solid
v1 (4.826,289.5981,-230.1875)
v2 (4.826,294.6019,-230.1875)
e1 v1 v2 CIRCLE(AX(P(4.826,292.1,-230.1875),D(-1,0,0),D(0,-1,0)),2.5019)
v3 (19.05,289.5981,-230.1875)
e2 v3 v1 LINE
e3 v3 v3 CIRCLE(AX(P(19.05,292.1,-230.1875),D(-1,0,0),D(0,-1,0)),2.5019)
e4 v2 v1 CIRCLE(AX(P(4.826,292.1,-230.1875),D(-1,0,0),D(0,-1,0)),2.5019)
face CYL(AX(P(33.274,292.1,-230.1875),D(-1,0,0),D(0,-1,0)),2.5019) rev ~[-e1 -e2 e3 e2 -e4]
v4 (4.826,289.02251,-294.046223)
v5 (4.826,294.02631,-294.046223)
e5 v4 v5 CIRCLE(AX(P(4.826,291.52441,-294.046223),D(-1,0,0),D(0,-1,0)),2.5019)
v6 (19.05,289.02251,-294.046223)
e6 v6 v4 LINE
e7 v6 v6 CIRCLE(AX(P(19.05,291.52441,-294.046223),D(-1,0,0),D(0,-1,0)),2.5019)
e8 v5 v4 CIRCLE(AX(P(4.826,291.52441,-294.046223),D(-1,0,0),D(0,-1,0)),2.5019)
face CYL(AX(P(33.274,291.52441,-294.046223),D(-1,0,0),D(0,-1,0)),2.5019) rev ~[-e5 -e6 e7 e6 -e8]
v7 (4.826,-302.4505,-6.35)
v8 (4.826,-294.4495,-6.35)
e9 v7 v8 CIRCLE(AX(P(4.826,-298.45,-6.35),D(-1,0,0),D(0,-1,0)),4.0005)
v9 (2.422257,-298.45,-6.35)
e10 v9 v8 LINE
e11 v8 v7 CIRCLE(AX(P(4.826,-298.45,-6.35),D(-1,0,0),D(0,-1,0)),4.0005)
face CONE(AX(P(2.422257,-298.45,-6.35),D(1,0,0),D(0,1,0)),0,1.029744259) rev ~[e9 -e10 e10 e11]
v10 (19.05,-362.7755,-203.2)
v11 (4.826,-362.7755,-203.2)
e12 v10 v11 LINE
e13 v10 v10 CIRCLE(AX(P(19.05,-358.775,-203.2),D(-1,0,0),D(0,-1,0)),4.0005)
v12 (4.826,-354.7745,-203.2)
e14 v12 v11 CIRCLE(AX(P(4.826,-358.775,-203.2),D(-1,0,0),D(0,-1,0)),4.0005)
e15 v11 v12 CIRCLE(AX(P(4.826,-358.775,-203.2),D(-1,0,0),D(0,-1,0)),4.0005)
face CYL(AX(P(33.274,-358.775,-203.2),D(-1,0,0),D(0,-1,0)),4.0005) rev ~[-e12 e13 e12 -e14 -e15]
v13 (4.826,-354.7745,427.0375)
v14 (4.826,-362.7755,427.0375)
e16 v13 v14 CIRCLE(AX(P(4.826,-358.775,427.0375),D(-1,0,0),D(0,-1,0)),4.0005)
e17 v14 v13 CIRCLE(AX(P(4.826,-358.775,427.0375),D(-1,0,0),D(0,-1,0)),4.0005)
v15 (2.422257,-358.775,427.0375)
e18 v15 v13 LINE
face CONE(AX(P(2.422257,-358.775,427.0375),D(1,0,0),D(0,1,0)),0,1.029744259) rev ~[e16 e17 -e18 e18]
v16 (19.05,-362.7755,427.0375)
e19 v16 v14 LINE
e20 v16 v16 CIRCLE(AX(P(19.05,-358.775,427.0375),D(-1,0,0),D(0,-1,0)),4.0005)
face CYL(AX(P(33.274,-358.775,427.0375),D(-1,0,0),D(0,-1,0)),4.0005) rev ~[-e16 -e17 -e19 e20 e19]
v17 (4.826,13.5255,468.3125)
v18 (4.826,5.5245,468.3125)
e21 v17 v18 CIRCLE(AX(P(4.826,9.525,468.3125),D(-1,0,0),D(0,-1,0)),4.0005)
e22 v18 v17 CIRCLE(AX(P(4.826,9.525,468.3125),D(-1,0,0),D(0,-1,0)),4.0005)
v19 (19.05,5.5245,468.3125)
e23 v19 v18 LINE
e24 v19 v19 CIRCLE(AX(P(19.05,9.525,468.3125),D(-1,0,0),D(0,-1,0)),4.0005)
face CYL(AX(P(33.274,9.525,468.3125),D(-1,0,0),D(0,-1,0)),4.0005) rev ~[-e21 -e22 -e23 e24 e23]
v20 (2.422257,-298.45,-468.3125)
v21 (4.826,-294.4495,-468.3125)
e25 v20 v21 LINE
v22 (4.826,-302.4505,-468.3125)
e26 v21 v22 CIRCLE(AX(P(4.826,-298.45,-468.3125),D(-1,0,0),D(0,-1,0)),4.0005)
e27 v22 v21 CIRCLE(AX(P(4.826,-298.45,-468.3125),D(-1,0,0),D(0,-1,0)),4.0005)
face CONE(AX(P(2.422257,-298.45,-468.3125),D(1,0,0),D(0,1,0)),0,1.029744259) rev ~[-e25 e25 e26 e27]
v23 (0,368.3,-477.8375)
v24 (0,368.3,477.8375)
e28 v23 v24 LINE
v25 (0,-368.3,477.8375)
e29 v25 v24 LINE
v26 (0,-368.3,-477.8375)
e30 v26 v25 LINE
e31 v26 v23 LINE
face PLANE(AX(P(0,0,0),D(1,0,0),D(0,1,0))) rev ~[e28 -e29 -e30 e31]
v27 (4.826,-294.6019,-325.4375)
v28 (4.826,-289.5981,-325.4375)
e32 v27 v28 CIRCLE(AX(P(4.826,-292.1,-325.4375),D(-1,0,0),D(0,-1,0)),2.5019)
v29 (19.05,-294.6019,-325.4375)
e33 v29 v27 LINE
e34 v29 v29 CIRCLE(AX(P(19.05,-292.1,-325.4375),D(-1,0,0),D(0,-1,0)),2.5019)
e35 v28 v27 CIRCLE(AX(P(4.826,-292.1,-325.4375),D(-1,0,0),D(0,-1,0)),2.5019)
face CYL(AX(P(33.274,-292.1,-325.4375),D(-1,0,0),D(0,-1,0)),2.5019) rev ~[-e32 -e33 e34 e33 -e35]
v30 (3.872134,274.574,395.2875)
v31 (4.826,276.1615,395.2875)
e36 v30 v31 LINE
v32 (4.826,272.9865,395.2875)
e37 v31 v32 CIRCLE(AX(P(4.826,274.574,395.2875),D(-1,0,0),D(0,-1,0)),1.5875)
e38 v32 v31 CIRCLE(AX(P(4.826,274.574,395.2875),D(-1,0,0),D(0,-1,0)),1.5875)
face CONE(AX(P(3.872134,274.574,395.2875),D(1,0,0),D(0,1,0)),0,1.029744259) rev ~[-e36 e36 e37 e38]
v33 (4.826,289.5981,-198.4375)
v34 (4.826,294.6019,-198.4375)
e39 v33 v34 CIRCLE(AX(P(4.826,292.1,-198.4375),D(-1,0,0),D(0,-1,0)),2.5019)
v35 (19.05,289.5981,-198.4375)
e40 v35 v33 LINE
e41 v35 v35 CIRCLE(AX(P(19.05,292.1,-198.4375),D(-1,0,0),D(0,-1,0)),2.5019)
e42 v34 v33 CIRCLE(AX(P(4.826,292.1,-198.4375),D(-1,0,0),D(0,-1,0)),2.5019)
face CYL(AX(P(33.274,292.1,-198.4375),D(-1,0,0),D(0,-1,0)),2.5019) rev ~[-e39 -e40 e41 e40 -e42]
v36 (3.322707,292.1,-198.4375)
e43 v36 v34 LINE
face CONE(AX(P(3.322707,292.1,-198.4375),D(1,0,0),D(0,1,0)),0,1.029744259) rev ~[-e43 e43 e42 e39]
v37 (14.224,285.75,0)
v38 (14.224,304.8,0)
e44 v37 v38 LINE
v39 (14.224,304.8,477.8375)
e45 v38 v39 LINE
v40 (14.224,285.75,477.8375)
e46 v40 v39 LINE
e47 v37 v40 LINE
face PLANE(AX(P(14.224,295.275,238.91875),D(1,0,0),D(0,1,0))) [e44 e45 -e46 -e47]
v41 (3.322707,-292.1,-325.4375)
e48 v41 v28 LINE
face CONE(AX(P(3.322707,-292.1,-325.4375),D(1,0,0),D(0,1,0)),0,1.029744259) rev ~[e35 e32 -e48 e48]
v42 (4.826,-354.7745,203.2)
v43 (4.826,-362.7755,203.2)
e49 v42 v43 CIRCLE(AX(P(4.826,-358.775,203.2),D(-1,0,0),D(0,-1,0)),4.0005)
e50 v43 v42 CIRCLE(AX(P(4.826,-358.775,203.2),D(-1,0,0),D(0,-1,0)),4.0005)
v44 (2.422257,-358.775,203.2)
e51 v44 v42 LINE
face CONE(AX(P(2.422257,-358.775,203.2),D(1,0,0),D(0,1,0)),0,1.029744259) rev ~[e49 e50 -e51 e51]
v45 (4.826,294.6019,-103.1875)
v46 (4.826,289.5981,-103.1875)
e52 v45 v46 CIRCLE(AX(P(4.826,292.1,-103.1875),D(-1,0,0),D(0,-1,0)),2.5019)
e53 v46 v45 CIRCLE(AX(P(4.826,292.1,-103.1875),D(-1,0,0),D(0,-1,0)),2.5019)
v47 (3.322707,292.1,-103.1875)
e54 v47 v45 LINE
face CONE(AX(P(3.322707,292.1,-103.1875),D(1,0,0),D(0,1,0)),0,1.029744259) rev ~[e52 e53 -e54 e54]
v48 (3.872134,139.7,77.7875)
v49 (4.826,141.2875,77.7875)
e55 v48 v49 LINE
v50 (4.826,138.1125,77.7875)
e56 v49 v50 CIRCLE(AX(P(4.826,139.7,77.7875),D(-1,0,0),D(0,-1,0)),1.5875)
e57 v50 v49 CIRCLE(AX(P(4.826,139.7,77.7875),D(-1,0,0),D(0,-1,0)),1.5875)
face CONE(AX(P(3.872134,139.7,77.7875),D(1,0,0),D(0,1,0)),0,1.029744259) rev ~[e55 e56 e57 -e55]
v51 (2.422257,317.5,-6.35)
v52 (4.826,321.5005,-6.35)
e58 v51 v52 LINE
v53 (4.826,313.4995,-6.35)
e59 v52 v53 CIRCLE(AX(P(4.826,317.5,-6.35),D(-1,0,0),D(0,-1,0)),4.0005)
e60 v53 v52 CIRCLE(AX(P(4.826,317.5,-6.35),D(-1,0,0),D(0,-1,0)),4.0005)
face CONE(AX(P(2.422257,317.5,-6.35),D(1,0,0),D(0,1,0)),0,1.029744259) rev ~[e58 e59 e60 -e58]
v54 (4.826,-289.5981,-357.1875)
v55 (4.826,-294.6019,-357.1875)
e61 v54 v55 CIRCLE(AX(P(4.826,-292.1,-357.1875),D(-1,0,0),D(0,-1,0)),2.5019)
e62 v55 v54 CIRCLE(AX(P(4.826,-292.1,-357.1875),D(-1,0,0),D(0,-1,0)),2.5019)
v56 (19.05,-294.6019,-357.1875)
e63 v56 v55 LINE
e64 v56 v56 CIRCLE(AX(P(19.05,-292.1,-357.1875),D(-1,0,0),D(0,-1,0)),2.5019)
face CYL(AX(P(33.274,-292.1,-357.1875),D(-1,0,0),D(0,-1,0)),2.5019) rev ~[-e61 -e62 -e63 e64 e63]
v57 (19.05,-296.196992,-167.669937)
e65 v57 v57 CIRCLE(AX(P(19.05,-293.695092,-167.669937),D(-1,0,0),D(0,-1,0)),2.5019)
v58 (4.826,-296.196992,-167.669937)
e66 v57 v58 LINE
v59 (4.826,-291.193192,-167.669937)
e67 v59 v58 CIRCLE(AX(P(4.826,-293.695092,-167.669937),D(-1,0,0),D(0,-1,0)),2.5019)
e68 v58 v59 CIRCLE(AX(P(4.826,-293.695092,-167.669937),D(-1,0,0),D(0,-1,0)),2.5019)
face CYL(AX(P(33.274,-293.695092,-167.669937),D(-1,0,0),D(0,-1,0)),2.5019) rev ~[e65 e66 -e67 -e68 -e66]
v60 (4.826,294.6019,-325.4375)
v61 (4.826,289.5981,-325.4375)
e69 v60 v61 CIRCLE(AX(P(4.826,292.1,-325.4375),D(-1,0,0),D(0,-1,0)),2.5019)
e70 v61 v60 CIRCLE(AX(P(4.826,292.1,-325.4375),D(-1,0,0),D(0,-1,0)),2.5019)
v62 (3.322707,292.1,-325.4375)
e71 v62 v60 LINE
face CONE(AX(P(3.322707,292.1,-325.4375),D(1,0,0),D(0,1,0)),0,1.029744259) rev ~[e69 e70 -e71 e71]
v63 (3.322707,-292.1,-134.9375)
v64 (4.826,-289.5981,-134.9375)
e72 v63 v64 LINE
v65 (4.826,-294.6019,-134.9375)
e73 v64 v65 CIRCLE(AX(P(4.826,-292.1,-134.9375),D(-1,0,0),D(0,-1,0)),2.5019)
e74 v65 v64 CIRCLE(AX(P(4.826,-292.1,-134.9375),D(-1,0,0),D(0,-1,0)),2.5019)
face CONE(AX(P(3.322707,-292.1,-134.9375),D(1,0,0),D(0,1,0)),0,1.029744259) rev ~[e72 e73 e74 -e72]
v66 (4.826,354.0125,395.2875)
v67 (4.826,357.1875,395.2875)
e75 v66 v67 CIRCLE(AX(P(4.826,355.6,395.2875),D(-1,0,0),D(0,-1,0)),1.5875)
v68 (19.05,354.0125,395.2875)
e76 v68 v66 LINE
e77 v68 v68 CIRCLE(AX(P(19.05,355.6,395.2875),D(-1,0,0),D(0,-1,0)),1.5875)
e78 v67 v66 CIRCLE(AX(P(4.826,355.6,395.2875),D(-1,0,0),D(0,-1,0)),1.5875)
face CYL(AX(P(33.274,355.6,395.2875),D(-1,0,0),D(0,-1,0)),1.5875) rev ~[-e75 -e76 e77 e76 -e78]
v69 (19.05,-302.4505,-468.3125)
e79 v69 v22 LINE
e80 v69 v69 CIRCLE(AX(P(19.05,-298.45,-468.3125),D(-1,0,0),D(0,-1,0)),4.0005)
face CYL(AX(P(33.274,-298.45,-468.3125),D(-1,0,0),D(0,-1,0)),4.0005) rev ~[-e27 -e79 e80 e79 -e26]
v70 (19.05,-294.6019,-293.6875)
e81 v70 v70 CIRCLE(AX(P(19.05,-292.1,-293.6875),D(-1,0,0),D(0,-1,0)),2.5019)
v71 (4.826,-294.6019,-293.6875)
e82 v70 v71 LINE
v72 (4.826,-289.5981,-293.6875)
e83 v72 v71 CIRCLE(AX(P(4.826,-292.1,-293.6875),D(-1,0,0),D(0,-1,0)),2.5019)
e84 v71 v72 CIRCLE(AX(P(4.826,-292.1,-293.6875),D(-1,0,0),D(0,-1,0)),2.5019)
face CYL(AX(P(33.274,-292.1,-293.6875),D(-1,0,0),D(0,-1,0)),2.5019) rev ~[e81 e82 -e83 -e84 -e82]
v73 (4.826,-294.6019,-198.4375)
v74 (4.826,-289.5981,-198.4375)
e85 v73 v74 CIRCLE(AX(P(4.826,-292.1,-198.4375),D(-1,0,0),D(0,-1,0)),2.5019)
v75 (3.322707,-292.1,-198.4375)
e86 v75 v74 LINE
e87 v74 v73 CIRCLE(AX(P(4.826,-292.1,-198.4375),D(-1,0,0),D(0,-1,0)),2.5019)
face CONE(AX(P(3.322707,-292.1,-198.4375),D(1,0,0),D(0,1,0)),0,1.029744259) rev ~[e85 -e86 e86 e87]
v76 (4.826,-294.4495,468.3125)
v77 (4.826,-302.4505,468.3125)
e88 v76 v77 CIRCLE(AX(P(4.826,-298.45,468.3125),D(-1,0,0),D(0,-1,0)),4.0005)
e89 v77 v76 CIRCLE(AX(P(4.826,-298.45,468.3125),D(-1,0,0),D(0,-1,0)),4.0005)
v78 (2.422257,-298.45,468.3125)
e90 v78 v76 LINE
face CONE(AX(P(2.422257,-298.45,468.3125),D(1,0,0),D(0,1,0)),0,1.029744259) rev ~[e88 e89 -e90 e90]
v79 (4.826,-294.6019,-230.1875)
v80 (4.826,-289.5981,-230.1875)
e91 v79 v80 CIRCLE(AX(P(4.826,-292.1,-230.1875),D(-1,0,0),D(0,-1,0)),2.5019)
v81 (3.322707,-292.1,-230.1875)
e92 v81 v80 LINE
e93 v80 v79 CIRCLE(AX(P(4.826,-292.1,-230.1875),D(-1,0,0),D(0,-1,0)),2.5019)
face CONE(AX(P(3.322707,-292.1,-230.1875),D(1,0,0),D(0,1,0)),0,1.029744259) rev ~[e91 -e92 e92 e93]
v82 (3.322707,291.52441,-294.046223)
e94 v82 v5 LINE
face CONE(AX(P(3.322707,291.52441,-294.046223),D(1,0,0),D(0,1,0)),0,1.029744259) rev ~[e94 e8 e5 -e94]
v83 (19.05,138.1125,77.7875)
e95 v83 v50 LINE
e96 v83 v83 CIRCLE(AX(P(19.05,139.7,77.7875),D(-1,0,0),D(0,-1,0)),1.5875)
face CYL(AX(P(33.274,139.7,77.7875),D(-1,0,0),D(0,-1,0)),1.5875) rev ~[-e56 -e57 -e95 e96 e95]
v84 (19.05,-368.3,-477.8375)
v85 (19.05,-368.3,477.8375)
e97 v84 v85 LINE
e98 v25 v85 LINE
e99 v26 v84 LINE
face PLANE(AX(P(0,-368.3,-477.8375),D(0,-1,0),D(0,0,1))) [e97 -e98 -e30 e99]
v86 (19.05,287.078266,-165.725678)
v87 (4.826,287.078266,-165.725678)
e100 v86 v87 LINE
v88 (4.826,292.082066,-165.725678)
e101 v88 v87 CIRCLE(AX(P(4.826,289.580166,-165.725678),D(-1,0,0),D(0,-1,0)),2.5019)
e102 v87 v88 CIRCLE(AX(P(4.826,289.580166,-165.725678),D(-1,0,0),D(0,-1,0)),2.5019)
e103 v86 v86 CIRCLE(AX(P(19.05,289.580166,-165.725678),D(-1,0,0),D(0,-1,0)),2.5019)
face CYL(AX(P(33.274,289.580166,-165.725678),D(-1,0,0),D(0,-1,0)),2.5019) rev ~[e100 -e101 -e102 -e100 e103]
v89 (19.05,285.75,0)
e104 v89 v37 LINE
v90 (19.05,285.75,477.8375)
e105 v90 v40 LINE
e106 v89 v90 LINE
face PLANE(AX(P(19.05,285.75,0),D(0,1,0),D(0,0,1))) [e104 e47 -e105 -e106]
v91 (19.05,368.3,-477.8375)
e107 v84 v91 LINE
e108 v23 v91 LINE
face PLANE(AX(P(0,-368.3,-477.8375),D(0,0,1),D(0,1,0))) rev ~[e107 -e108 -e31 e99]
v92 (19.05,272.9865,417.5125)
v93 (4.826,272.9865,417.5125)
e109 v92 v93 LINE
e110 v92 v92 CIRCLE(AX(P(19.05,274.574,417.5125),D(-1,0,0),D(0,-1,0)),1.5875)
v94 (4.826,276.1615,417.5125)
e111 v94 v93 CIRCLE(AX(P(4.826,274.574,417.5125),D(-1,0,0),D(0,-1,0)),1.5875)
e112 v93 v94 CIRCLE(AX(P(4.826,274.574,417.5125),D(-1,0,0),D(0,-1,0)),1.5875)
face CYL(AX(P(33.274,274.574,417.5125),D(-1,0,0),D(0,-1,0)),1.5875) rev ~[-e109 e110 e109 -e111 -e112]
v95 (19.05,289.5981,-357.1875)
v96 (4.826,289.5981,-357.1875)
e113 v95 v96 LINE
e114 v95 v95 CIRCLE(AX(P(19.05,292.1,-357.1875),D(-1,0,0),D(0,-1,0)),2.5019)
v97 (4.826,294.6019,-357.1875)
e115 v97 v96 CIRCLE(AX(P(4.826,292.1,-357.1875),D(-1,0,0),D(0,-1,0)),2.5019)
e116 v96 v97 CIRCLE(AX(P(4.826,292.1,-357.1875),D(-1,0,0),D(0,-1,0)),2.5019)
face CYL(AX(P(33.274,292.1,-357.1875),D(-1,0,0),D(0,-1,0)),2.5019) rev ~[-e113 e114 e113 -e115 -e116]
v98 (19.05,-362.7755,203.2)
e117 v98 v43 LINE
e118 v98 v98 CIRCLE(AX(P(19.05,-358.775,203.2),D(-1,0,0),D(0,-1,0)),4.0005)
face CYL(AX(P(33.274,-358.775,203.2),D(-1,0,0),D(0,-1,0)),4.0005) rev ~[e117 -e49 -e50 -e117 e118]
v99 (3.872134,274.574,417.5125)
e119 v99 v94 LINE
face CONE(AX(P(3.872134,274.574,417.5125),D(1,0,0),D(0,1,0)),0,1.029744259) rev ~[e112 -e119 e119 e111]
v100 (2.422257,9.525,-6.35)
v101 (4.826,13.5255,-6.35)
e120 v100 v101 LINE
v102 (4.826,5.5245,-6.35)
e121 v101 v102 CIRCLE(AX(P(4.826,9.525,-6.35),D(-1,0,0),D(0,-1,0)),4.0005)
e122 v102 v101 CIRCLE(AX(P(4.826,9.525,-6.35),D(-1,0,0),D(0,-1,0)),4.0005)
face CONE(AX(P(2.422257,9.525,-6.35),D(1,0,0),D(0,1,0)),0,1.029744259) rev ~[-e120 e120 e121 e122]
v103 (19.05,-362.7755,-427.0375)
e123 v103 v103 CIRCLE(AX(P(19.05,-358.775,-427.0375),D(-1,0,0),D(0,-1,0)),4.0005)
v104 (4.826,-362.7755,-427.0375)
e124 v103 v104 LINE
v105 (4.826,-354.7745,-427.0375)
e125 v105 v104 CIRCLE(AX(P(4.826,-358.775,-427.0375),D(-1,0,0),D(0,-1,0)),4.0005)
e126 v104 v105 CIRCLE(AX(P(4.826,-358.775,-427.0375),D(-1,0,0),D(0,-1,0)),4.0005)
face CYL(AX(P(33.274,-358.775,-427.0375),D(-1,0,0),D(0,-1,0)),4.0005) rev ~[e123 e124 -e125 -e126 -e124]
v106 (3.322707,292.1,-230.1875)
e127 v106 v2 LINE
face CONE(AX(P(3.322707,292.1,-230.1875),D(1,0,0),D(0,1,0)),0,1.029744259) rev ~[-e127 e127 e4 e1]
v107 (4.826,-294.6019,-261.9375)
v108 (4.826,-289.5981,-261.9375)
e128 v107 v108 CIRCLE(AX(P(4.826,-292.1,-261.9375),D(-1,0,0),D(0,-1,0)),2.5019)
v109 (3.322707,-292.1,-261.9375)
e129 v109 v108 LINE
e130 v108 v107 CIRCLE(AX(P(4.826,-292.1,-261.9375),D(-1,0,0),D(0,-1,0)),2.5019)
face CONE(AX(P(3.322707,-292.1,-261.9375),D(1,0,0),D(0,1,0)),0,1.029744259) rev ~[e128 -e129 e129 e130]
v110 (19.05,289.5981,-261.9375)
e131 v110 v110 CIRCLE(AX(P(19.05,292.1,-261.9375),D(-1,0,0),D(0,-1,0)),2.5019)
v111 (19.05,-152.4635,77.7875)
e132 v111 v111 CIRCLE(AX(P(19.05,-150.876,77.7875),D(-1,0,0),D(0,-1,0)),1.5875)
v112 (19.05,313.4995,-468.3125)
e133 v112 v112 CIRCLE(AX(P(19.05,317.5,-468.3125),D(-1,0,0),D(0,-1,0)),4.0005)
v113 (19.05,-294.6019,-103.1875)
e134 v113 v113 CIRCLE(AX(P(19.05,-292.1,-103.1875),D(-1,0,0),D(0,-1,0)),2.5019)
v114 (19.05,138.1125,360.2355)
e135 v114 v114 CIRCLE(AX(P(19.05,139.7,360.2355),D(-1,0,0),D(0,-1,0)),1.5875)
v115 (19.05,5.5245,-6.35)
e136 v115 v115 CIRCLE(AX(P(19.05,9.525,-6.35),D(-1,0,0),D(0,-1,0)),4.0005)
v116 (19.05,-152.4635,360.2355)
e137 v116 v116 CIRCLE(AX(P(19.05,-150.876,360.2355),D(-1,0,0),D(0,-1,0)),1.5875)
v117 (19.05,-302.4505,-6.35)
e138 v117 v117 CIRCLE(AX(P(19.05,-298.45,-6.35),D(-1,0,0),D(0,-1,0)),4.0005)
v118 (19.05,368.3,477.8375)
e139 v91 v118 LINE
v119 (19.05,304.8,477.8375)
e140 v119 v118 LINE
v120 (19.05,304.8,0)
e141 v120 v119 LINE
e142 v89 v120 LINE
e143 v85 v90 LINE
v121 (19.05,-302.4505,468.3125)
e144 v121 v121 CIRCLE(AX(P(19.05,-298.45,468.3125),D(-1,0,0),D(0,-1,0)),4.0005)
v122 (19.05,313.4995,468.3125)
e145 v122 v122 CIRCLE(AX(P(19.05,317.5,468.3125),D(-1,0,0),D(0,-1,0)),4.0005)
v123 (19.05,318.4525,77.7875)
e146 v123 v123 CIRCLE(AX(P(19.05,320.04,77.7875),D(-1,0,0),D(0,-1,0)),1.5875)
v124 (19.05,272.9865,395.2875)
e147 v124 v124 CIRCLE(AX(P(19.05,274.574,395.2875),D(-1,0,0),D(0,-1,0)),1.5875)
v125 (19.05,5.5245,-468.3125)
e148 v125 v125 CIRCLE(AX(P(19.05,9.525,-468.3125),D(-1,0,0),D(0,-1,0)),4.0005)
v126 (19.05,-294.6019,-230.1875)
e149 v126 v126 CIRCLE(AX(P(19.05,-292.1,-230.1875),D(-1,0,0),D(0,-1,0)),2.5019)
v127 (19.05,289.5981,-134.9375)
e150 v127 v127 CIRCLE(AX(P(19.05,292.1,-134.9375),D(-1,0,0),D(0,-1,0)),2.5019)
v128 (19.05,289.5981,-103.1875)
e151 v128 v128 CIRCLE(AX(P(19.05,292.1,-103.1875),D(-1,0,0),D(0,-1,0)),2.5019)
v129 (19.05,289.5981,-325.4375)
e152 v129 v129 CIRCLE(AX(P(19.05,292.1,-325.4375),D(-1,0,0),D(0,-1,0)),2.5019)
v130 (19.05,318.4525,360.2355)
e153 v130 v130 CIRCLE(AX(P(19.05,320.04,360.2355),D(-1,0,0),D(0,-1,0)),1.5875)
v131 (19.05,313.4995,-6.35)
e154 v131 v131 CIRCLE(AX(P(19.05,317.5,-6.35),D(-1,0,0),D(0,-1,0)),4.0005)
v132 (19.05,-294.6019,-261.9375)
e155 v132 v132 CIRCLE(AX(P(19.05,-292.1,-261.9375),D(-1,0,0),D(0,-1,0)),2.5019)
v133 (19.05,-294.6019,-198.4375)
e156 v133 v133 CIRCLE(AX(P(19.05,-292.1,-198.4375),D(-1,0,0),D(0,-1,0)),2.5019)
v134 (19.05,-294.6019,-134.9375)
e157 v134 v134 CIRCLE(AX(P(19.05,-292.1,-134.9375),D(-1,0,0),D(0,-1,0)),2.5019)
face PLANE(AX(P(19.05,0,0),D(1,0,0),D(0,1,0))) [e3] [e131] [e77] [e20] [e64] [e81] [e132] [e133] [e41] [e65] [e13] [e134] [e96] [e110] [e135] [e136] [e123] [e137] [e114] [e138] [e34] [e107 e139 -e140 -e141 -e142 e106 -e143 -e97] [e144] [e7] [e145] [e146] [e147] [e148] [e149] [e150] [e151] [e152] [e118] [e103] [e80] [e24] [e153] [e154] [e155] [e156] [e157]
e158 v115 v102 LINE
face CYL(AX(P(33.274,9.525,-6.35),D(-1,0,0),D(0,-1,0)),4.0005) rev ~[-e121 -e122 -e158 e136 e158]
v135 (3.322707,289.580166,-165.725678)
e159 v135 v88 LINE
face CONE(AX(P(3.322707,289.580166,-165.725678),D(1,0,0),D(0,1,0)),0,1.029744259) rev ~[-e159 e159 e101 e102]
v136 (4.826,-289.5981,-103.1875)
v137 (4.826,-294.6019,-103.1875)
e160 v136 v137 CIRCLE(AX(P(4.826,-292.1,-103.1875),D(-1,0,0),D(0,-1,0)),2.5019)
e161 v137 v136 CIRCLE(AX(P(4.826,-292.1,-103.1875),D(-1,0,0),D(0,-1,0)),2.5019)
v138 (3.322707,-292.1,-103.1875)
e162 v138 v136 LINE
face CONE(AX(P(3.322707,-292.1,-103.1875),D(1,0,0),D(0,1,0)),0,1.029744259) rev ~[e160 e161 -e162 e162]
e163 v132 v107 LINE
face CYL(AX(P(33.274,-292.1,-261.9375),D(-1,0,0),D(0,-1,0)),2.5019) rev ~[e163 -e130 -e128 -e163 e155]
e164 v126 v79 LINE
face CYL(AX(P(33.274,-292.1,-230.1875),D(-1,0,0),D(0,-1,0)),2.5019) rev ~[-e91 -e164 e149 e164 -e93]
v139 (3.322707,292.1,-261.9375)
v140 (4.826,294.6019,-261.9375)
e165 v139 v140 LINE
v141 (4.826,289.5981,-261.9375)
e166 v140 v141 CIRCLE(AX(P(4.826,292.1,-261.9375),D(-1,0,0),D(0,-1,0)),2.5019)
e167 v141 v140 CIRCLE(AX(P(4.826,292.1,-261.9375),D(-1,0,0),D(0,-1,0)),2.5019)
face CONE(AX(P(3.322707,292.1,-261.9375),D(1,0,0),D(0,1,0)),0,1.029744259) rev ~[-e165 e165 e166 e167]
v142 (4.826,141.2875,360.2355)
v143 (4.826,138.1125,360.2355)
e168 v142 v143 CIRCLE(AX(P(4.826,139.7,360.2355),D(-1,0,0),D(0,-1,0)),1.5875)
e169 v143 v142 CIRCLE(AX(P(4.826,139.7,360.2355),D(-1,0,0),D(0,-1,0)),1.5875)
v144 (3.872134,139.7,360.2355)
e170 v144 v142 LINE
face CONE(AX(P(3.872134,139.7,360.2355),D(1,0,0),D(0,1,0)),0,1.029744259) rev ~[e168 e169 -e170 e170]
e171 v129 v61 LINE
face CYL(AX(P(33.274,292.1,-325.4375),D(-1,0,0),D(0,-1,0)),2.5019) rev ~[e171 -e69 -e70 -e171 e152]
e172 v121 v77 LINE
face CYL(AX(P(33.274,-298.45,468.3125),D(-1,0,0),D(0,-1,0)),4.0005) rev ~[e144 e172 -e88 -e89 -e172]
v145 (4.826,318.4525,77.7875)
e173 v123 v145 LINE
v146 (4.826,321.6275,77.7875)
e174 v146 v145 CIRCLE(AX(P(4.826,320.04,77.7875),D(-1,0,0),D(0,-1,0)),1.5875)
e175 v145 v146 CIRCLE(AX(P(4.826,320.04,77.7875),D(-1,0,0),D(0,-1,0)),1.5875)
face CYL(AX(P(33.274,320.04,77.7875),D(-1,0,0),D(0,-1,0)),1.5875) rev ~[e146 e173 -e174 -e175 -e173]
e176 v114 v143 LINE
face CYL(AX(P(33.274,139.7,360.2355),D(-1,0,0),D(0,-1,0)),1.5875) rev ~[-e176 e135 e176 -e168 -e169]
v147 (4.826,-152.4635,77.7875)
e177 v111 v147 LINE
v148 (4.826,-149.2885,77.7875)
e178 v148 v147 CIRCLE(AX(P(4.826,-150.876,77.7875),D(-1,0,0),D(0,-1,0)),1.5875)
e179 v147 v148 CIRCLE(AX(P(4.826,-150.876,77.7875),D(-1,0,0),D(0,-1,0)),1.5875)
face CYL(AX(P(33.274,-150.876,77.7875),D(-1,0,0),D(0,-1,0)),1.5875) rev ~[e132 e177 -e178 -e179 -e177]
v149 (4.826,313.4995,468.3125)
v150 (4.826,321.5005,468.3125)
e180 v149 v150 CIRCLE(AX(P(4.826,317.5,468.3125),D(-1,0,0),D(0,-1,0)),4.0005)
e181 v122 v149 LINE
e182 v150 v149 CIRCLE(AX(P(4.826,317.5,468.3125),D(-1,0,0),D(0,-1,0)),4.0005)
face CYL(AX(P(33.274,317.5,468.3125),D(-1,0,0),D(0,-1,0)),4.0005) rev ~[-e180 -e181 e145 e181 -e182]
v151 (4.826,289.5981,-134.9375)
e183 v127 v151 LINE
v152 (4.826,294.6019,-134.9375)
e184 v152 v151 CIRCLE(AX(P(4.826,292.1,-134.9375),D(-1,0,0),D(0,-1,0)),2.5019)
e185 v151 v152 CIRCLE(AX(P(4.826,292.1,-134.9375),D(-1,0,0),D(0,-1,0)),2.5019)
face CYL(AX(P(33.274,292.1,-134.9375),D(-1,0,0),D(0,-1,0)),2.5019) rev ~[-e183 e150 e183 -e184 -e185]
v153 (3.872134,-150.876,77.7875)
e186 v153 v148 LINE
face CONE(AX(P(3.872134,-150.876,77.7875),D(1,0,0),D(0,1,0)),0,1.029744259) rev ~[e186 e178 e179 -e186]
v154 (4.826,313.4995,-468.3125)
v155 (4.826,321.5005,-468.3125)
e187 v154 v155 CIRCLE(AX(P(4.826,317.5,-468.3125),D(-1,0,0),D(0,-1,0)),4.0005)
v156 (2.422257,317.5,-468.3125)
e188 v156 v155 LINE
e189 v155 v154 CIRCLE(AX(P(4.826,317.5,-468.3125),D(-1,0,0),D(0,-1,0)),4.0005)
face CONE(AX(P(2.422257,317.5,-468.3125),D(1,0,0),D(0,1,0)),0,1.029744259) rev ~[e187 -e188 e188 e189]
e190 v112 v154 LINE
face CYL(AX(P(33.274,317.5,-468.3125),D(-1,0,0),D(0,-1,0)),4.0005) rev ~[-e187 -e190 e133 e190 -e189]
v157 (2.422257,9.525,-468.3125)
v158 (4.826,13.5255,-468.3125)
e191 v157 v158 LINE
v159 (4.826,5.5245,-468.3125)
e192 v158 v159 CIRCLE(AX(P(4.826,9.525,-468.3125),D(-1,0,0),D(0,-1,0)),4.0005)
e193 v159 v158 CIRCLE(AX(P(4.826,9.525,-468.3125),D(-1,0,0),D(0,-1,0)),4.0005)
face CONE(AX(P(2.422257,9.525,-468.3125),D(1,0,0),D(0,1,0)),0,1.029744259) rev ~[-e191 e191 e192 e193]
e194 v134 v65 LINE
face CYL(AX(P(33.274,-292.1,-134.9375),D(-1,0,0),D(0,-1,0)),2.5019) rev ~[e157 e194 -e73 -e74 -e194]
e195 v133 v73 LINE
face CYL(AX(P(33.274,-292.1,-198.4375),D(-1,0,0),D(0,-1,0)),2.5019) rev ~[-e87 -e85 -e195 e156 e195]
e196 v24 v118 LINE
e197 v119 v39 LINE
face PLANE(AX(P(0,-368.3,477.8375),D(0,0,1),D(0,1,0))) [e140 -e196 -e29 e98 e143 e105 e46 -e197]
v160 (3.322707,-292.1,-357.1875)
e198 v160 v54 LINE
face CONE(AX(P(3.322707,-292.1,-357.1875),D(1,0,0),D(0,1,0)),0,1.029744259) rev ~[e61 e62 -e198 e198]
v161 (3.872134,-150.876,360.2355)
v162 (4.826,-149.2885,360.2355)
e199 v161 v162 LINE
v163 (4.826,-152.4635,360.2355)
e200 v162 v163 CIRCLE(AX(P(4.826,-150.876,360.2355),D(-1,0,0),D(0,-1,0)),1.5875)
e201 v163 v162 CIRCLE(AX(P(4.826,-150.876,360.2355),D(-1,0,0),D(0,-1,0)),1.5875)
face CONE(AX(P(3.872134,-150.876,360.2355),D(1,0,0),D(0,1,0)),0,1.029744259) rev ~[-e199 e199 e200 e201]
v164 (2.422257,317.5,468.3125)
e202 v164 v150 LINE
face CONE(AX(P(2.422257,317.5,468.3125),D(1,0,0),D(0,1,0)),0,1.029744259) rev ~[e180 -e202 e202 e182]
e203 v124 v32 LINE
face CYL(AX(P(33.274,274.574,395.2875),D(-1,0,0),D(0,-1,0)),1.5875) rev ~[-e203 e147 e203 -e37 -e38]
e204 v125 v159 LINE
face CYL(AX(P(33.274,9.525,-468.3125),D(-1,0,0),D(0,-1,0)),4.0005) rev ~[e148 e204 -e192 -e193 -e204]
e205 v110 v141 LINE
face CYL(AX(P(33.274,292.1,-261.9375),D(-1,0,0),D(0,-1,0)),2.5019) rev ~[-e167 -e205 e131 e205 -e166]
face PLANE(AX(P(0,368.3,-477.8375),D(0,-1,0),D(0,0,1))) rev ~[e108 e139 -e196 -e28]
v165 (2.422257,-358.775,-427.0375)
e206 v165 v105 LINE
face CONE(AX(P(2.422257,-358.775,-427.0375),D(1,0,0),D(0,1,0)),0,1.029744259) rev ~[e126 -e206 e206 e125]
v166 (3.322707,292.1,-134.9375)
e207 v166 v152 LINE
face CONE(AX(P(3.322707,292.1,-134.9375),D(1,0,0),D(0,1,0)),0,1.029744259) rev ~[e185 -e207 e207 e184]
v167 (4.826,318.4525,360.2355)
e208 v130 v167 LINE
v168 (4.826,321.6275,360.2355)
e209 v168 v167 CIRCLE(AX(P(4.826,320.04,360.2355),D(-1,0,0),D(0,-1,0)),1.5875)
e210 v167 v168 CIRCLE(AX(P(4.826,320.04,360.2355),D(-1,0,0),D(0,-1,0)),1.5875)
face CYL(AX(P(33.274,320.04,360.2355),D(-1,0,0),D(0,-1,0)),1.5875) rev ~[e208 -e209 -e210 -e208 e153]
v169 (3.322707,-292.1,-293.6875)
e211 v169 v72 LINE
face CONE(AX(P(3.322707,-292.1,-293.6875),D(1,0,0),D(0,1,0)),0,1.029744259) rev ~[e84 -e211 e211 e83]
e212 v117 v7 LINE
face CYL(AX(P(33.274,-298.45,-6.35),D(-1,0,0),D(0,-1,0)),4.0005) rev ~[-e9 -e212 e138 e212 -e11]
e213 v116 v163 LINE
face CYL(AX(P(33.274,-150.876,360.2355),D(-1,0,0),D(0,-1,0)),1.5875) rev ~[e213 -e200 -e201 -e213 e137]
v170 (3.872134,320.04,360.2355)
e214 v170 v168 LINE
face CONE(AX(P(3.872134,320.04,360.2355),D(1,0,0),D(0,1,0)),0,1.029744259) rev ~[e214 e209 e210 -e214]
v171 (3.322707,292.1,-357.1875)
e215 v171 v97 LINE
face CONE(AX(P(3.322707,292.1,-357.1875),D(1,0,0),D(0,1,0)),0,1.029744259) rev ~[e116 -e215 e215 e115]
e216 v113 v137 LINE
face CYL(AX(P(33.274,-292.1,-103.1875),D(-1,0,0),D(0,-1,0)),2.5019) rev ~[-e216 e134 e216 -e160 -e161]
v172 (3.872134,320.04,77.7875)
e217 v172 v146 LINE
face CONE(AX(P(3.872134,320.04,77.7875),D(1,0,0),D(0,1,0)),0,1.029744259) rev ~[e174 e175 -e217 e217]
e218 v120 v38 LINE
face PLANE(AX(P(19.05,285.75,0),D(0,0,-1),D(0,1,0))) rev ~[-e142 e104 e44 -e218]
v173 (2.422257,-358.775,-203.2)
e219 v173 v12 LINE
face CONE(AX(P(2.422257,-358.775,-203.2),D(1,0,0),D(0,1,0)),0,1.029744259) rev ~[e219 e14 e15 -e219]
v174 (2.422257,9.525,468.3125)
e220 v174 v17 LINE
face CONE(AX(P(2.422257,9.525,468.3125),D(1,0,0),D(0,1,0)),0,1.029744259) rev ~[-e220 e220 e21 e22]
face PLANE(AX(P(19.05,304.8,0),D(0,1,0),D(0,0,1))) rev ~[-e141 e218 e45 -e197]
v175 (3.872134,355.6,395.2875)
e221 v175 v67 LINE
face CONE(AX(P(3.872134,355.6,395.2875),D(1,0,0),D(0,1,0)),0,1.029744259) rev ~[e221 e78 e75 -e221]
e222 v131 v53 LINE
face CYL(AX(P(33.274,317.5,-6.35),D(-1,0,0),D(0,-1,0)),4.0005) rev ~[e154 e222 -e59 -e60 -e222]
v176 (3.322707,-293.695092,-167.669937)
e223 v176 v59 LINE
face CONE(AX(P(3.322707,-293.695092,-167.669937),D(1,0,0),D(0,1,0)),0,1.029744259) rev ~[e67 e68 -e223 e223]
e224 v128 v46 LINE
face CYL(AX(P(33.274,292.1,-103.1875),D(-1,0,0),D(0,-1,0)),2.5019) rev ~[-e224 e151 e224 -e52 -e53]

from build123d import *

# Parameters (mm, degrees)
F0_W      = 736.6
F0_H      = 955.675
F1_DEPTH  = 19.05
F3_D      = 3.175
F3_DEPTH  = 14.224
F3_TIP    = 0.9538662327
F5_D      = 8.001
F5_DEPTH  = 14.224
F5_TIP    = 2.4037429064
F7_D      = 3.175
F7_DEPTH  = 14.224
F7_TIP    = 0.9538662327
F8_D      = 8.001
F8_DEPTH  = 14.224
F8_TIP    = 2.4037429064
F9_W      = 19.05
F9_H      = 477.8375
F10_DEPTH = 4.826
F12_D     = 5.0038
F12_DEPTH = 14.224
F12_TIP   = 1.5032931827


with BuildPart() as f1:
    # F0 (on Right) → F1 (new body)
    with BuildSketch(Plane.YZ):
        Rectangle(F0_W, F0_H)
    extrude(amount=F1_DEPTH)

    # F3
    with Locations(Plane.YZ.offset(19.05)):
        with Locations((274.574, 417.5125), (274.574, 395.2875), (355.6, 395.2875)):
            Hole(F3_D / 2, depth=F3_DEPTH)
            with Locations((0, 0, -(F3_DEPTH + F3_TIP / 2))):  # 118° drill point
                Cone(0, F3_D / 2, F3_TIP, mode=Mode.SUBTRACT)

    # F5
    with Locations(Plane.YZ.offset(19.05)):
        with Locations((-298.45, 468.3125), (9.525, 468.3125), (317.5, 468.3125), (-358.775, 427.0375), (-358.775, -427.0375), (-298.45, -468.3125), (9.525, -468.3125), (317.5, -468.3125), (-358.775, 203.2), (-358.775, -203.2)):
            Hole(F5_D / 2, depth=F5_DEPTH)
            with Locations((0, 0, -(F5_DEPTH + F5_TIP / 2))):  # 118° drill point
                Cone(0, F5_D / 2, F5_TIP, mode=Mode.SUBTRACT)

    # F7
    with Locations(Plane.YZ.offset(19.05)):
        with Locations((-150.876, 360.2355), (139.7, 360.2355), (320.04, 360.2355), (320.04, 77.7875), (139.7, 77.7875), (-150.876, 77.7875)):
            Hole(F7_D / 2, depth=F7_DEPTH)
            with Locations((0, 0, -(F7_DEPTH + F7_TIP / 2))):  # 118° drill point
                Cone(0, F7_D / 2, F7_TIP, mode=Mode.SUBTRACT)

    # F8
    with Locations(Plane.YZ.offset(19.05)):
        with Locations((-298.45, -6.35), (9.525, -6.35), (317.5, -6.35)):
            Hole(F8_D / 2, depth=F8_DEPTH)
            with Locations((0, 0, -(F8_DEPTH + F8_TIP / 2))):  # 118° drill point
                Cone(0, F8_D / 2, F8_TIP, mode=Mode.SUBTRACT)

    # F9 (on face) → F10 (cut)
    with BuildSketch(Plane.YZ.offset(19.05)):
        with Locations((295.275, 238.91875)):
            Rectangle(F9_W, F9_H)
    extrude(amount=-F10_DEPTH, mode=Mode.SUBTRACT)

    # F12
    with Locations(Plane.YZ.offset(19.05)):
        with Locations((-292.1, -103.1875), (-292.1, -134.9375), (-293.6950922012, -167.6699370146), (-292.1, -198.4375), (-292.1, -230.1875), (-292.1, -261.9375), (-292.1, -293.6875), (-292.1, -325.4375), (-292.1, -357.1875), (292.1, -357.1875), (292.1, -325.4375), (291.5244102478, -294.0462231636), (292.1, -261.9375), (292.1, -230.1875), (292.1, -198.4375), (289.5801663399, -165.7256782055), (292.1, -134.9375), (292.1, -103.1875)):
            Hole(F12_D / 2, depth=F12_DEPTH)
            with Locations((0, 0, -(F12_DEPTH + F12_TIP / 2))):  # 118° drill point
                Cone(0, F12_D / 2, F12_TIP, mode=Mode.SUBTRACT)


solid = f1.part
